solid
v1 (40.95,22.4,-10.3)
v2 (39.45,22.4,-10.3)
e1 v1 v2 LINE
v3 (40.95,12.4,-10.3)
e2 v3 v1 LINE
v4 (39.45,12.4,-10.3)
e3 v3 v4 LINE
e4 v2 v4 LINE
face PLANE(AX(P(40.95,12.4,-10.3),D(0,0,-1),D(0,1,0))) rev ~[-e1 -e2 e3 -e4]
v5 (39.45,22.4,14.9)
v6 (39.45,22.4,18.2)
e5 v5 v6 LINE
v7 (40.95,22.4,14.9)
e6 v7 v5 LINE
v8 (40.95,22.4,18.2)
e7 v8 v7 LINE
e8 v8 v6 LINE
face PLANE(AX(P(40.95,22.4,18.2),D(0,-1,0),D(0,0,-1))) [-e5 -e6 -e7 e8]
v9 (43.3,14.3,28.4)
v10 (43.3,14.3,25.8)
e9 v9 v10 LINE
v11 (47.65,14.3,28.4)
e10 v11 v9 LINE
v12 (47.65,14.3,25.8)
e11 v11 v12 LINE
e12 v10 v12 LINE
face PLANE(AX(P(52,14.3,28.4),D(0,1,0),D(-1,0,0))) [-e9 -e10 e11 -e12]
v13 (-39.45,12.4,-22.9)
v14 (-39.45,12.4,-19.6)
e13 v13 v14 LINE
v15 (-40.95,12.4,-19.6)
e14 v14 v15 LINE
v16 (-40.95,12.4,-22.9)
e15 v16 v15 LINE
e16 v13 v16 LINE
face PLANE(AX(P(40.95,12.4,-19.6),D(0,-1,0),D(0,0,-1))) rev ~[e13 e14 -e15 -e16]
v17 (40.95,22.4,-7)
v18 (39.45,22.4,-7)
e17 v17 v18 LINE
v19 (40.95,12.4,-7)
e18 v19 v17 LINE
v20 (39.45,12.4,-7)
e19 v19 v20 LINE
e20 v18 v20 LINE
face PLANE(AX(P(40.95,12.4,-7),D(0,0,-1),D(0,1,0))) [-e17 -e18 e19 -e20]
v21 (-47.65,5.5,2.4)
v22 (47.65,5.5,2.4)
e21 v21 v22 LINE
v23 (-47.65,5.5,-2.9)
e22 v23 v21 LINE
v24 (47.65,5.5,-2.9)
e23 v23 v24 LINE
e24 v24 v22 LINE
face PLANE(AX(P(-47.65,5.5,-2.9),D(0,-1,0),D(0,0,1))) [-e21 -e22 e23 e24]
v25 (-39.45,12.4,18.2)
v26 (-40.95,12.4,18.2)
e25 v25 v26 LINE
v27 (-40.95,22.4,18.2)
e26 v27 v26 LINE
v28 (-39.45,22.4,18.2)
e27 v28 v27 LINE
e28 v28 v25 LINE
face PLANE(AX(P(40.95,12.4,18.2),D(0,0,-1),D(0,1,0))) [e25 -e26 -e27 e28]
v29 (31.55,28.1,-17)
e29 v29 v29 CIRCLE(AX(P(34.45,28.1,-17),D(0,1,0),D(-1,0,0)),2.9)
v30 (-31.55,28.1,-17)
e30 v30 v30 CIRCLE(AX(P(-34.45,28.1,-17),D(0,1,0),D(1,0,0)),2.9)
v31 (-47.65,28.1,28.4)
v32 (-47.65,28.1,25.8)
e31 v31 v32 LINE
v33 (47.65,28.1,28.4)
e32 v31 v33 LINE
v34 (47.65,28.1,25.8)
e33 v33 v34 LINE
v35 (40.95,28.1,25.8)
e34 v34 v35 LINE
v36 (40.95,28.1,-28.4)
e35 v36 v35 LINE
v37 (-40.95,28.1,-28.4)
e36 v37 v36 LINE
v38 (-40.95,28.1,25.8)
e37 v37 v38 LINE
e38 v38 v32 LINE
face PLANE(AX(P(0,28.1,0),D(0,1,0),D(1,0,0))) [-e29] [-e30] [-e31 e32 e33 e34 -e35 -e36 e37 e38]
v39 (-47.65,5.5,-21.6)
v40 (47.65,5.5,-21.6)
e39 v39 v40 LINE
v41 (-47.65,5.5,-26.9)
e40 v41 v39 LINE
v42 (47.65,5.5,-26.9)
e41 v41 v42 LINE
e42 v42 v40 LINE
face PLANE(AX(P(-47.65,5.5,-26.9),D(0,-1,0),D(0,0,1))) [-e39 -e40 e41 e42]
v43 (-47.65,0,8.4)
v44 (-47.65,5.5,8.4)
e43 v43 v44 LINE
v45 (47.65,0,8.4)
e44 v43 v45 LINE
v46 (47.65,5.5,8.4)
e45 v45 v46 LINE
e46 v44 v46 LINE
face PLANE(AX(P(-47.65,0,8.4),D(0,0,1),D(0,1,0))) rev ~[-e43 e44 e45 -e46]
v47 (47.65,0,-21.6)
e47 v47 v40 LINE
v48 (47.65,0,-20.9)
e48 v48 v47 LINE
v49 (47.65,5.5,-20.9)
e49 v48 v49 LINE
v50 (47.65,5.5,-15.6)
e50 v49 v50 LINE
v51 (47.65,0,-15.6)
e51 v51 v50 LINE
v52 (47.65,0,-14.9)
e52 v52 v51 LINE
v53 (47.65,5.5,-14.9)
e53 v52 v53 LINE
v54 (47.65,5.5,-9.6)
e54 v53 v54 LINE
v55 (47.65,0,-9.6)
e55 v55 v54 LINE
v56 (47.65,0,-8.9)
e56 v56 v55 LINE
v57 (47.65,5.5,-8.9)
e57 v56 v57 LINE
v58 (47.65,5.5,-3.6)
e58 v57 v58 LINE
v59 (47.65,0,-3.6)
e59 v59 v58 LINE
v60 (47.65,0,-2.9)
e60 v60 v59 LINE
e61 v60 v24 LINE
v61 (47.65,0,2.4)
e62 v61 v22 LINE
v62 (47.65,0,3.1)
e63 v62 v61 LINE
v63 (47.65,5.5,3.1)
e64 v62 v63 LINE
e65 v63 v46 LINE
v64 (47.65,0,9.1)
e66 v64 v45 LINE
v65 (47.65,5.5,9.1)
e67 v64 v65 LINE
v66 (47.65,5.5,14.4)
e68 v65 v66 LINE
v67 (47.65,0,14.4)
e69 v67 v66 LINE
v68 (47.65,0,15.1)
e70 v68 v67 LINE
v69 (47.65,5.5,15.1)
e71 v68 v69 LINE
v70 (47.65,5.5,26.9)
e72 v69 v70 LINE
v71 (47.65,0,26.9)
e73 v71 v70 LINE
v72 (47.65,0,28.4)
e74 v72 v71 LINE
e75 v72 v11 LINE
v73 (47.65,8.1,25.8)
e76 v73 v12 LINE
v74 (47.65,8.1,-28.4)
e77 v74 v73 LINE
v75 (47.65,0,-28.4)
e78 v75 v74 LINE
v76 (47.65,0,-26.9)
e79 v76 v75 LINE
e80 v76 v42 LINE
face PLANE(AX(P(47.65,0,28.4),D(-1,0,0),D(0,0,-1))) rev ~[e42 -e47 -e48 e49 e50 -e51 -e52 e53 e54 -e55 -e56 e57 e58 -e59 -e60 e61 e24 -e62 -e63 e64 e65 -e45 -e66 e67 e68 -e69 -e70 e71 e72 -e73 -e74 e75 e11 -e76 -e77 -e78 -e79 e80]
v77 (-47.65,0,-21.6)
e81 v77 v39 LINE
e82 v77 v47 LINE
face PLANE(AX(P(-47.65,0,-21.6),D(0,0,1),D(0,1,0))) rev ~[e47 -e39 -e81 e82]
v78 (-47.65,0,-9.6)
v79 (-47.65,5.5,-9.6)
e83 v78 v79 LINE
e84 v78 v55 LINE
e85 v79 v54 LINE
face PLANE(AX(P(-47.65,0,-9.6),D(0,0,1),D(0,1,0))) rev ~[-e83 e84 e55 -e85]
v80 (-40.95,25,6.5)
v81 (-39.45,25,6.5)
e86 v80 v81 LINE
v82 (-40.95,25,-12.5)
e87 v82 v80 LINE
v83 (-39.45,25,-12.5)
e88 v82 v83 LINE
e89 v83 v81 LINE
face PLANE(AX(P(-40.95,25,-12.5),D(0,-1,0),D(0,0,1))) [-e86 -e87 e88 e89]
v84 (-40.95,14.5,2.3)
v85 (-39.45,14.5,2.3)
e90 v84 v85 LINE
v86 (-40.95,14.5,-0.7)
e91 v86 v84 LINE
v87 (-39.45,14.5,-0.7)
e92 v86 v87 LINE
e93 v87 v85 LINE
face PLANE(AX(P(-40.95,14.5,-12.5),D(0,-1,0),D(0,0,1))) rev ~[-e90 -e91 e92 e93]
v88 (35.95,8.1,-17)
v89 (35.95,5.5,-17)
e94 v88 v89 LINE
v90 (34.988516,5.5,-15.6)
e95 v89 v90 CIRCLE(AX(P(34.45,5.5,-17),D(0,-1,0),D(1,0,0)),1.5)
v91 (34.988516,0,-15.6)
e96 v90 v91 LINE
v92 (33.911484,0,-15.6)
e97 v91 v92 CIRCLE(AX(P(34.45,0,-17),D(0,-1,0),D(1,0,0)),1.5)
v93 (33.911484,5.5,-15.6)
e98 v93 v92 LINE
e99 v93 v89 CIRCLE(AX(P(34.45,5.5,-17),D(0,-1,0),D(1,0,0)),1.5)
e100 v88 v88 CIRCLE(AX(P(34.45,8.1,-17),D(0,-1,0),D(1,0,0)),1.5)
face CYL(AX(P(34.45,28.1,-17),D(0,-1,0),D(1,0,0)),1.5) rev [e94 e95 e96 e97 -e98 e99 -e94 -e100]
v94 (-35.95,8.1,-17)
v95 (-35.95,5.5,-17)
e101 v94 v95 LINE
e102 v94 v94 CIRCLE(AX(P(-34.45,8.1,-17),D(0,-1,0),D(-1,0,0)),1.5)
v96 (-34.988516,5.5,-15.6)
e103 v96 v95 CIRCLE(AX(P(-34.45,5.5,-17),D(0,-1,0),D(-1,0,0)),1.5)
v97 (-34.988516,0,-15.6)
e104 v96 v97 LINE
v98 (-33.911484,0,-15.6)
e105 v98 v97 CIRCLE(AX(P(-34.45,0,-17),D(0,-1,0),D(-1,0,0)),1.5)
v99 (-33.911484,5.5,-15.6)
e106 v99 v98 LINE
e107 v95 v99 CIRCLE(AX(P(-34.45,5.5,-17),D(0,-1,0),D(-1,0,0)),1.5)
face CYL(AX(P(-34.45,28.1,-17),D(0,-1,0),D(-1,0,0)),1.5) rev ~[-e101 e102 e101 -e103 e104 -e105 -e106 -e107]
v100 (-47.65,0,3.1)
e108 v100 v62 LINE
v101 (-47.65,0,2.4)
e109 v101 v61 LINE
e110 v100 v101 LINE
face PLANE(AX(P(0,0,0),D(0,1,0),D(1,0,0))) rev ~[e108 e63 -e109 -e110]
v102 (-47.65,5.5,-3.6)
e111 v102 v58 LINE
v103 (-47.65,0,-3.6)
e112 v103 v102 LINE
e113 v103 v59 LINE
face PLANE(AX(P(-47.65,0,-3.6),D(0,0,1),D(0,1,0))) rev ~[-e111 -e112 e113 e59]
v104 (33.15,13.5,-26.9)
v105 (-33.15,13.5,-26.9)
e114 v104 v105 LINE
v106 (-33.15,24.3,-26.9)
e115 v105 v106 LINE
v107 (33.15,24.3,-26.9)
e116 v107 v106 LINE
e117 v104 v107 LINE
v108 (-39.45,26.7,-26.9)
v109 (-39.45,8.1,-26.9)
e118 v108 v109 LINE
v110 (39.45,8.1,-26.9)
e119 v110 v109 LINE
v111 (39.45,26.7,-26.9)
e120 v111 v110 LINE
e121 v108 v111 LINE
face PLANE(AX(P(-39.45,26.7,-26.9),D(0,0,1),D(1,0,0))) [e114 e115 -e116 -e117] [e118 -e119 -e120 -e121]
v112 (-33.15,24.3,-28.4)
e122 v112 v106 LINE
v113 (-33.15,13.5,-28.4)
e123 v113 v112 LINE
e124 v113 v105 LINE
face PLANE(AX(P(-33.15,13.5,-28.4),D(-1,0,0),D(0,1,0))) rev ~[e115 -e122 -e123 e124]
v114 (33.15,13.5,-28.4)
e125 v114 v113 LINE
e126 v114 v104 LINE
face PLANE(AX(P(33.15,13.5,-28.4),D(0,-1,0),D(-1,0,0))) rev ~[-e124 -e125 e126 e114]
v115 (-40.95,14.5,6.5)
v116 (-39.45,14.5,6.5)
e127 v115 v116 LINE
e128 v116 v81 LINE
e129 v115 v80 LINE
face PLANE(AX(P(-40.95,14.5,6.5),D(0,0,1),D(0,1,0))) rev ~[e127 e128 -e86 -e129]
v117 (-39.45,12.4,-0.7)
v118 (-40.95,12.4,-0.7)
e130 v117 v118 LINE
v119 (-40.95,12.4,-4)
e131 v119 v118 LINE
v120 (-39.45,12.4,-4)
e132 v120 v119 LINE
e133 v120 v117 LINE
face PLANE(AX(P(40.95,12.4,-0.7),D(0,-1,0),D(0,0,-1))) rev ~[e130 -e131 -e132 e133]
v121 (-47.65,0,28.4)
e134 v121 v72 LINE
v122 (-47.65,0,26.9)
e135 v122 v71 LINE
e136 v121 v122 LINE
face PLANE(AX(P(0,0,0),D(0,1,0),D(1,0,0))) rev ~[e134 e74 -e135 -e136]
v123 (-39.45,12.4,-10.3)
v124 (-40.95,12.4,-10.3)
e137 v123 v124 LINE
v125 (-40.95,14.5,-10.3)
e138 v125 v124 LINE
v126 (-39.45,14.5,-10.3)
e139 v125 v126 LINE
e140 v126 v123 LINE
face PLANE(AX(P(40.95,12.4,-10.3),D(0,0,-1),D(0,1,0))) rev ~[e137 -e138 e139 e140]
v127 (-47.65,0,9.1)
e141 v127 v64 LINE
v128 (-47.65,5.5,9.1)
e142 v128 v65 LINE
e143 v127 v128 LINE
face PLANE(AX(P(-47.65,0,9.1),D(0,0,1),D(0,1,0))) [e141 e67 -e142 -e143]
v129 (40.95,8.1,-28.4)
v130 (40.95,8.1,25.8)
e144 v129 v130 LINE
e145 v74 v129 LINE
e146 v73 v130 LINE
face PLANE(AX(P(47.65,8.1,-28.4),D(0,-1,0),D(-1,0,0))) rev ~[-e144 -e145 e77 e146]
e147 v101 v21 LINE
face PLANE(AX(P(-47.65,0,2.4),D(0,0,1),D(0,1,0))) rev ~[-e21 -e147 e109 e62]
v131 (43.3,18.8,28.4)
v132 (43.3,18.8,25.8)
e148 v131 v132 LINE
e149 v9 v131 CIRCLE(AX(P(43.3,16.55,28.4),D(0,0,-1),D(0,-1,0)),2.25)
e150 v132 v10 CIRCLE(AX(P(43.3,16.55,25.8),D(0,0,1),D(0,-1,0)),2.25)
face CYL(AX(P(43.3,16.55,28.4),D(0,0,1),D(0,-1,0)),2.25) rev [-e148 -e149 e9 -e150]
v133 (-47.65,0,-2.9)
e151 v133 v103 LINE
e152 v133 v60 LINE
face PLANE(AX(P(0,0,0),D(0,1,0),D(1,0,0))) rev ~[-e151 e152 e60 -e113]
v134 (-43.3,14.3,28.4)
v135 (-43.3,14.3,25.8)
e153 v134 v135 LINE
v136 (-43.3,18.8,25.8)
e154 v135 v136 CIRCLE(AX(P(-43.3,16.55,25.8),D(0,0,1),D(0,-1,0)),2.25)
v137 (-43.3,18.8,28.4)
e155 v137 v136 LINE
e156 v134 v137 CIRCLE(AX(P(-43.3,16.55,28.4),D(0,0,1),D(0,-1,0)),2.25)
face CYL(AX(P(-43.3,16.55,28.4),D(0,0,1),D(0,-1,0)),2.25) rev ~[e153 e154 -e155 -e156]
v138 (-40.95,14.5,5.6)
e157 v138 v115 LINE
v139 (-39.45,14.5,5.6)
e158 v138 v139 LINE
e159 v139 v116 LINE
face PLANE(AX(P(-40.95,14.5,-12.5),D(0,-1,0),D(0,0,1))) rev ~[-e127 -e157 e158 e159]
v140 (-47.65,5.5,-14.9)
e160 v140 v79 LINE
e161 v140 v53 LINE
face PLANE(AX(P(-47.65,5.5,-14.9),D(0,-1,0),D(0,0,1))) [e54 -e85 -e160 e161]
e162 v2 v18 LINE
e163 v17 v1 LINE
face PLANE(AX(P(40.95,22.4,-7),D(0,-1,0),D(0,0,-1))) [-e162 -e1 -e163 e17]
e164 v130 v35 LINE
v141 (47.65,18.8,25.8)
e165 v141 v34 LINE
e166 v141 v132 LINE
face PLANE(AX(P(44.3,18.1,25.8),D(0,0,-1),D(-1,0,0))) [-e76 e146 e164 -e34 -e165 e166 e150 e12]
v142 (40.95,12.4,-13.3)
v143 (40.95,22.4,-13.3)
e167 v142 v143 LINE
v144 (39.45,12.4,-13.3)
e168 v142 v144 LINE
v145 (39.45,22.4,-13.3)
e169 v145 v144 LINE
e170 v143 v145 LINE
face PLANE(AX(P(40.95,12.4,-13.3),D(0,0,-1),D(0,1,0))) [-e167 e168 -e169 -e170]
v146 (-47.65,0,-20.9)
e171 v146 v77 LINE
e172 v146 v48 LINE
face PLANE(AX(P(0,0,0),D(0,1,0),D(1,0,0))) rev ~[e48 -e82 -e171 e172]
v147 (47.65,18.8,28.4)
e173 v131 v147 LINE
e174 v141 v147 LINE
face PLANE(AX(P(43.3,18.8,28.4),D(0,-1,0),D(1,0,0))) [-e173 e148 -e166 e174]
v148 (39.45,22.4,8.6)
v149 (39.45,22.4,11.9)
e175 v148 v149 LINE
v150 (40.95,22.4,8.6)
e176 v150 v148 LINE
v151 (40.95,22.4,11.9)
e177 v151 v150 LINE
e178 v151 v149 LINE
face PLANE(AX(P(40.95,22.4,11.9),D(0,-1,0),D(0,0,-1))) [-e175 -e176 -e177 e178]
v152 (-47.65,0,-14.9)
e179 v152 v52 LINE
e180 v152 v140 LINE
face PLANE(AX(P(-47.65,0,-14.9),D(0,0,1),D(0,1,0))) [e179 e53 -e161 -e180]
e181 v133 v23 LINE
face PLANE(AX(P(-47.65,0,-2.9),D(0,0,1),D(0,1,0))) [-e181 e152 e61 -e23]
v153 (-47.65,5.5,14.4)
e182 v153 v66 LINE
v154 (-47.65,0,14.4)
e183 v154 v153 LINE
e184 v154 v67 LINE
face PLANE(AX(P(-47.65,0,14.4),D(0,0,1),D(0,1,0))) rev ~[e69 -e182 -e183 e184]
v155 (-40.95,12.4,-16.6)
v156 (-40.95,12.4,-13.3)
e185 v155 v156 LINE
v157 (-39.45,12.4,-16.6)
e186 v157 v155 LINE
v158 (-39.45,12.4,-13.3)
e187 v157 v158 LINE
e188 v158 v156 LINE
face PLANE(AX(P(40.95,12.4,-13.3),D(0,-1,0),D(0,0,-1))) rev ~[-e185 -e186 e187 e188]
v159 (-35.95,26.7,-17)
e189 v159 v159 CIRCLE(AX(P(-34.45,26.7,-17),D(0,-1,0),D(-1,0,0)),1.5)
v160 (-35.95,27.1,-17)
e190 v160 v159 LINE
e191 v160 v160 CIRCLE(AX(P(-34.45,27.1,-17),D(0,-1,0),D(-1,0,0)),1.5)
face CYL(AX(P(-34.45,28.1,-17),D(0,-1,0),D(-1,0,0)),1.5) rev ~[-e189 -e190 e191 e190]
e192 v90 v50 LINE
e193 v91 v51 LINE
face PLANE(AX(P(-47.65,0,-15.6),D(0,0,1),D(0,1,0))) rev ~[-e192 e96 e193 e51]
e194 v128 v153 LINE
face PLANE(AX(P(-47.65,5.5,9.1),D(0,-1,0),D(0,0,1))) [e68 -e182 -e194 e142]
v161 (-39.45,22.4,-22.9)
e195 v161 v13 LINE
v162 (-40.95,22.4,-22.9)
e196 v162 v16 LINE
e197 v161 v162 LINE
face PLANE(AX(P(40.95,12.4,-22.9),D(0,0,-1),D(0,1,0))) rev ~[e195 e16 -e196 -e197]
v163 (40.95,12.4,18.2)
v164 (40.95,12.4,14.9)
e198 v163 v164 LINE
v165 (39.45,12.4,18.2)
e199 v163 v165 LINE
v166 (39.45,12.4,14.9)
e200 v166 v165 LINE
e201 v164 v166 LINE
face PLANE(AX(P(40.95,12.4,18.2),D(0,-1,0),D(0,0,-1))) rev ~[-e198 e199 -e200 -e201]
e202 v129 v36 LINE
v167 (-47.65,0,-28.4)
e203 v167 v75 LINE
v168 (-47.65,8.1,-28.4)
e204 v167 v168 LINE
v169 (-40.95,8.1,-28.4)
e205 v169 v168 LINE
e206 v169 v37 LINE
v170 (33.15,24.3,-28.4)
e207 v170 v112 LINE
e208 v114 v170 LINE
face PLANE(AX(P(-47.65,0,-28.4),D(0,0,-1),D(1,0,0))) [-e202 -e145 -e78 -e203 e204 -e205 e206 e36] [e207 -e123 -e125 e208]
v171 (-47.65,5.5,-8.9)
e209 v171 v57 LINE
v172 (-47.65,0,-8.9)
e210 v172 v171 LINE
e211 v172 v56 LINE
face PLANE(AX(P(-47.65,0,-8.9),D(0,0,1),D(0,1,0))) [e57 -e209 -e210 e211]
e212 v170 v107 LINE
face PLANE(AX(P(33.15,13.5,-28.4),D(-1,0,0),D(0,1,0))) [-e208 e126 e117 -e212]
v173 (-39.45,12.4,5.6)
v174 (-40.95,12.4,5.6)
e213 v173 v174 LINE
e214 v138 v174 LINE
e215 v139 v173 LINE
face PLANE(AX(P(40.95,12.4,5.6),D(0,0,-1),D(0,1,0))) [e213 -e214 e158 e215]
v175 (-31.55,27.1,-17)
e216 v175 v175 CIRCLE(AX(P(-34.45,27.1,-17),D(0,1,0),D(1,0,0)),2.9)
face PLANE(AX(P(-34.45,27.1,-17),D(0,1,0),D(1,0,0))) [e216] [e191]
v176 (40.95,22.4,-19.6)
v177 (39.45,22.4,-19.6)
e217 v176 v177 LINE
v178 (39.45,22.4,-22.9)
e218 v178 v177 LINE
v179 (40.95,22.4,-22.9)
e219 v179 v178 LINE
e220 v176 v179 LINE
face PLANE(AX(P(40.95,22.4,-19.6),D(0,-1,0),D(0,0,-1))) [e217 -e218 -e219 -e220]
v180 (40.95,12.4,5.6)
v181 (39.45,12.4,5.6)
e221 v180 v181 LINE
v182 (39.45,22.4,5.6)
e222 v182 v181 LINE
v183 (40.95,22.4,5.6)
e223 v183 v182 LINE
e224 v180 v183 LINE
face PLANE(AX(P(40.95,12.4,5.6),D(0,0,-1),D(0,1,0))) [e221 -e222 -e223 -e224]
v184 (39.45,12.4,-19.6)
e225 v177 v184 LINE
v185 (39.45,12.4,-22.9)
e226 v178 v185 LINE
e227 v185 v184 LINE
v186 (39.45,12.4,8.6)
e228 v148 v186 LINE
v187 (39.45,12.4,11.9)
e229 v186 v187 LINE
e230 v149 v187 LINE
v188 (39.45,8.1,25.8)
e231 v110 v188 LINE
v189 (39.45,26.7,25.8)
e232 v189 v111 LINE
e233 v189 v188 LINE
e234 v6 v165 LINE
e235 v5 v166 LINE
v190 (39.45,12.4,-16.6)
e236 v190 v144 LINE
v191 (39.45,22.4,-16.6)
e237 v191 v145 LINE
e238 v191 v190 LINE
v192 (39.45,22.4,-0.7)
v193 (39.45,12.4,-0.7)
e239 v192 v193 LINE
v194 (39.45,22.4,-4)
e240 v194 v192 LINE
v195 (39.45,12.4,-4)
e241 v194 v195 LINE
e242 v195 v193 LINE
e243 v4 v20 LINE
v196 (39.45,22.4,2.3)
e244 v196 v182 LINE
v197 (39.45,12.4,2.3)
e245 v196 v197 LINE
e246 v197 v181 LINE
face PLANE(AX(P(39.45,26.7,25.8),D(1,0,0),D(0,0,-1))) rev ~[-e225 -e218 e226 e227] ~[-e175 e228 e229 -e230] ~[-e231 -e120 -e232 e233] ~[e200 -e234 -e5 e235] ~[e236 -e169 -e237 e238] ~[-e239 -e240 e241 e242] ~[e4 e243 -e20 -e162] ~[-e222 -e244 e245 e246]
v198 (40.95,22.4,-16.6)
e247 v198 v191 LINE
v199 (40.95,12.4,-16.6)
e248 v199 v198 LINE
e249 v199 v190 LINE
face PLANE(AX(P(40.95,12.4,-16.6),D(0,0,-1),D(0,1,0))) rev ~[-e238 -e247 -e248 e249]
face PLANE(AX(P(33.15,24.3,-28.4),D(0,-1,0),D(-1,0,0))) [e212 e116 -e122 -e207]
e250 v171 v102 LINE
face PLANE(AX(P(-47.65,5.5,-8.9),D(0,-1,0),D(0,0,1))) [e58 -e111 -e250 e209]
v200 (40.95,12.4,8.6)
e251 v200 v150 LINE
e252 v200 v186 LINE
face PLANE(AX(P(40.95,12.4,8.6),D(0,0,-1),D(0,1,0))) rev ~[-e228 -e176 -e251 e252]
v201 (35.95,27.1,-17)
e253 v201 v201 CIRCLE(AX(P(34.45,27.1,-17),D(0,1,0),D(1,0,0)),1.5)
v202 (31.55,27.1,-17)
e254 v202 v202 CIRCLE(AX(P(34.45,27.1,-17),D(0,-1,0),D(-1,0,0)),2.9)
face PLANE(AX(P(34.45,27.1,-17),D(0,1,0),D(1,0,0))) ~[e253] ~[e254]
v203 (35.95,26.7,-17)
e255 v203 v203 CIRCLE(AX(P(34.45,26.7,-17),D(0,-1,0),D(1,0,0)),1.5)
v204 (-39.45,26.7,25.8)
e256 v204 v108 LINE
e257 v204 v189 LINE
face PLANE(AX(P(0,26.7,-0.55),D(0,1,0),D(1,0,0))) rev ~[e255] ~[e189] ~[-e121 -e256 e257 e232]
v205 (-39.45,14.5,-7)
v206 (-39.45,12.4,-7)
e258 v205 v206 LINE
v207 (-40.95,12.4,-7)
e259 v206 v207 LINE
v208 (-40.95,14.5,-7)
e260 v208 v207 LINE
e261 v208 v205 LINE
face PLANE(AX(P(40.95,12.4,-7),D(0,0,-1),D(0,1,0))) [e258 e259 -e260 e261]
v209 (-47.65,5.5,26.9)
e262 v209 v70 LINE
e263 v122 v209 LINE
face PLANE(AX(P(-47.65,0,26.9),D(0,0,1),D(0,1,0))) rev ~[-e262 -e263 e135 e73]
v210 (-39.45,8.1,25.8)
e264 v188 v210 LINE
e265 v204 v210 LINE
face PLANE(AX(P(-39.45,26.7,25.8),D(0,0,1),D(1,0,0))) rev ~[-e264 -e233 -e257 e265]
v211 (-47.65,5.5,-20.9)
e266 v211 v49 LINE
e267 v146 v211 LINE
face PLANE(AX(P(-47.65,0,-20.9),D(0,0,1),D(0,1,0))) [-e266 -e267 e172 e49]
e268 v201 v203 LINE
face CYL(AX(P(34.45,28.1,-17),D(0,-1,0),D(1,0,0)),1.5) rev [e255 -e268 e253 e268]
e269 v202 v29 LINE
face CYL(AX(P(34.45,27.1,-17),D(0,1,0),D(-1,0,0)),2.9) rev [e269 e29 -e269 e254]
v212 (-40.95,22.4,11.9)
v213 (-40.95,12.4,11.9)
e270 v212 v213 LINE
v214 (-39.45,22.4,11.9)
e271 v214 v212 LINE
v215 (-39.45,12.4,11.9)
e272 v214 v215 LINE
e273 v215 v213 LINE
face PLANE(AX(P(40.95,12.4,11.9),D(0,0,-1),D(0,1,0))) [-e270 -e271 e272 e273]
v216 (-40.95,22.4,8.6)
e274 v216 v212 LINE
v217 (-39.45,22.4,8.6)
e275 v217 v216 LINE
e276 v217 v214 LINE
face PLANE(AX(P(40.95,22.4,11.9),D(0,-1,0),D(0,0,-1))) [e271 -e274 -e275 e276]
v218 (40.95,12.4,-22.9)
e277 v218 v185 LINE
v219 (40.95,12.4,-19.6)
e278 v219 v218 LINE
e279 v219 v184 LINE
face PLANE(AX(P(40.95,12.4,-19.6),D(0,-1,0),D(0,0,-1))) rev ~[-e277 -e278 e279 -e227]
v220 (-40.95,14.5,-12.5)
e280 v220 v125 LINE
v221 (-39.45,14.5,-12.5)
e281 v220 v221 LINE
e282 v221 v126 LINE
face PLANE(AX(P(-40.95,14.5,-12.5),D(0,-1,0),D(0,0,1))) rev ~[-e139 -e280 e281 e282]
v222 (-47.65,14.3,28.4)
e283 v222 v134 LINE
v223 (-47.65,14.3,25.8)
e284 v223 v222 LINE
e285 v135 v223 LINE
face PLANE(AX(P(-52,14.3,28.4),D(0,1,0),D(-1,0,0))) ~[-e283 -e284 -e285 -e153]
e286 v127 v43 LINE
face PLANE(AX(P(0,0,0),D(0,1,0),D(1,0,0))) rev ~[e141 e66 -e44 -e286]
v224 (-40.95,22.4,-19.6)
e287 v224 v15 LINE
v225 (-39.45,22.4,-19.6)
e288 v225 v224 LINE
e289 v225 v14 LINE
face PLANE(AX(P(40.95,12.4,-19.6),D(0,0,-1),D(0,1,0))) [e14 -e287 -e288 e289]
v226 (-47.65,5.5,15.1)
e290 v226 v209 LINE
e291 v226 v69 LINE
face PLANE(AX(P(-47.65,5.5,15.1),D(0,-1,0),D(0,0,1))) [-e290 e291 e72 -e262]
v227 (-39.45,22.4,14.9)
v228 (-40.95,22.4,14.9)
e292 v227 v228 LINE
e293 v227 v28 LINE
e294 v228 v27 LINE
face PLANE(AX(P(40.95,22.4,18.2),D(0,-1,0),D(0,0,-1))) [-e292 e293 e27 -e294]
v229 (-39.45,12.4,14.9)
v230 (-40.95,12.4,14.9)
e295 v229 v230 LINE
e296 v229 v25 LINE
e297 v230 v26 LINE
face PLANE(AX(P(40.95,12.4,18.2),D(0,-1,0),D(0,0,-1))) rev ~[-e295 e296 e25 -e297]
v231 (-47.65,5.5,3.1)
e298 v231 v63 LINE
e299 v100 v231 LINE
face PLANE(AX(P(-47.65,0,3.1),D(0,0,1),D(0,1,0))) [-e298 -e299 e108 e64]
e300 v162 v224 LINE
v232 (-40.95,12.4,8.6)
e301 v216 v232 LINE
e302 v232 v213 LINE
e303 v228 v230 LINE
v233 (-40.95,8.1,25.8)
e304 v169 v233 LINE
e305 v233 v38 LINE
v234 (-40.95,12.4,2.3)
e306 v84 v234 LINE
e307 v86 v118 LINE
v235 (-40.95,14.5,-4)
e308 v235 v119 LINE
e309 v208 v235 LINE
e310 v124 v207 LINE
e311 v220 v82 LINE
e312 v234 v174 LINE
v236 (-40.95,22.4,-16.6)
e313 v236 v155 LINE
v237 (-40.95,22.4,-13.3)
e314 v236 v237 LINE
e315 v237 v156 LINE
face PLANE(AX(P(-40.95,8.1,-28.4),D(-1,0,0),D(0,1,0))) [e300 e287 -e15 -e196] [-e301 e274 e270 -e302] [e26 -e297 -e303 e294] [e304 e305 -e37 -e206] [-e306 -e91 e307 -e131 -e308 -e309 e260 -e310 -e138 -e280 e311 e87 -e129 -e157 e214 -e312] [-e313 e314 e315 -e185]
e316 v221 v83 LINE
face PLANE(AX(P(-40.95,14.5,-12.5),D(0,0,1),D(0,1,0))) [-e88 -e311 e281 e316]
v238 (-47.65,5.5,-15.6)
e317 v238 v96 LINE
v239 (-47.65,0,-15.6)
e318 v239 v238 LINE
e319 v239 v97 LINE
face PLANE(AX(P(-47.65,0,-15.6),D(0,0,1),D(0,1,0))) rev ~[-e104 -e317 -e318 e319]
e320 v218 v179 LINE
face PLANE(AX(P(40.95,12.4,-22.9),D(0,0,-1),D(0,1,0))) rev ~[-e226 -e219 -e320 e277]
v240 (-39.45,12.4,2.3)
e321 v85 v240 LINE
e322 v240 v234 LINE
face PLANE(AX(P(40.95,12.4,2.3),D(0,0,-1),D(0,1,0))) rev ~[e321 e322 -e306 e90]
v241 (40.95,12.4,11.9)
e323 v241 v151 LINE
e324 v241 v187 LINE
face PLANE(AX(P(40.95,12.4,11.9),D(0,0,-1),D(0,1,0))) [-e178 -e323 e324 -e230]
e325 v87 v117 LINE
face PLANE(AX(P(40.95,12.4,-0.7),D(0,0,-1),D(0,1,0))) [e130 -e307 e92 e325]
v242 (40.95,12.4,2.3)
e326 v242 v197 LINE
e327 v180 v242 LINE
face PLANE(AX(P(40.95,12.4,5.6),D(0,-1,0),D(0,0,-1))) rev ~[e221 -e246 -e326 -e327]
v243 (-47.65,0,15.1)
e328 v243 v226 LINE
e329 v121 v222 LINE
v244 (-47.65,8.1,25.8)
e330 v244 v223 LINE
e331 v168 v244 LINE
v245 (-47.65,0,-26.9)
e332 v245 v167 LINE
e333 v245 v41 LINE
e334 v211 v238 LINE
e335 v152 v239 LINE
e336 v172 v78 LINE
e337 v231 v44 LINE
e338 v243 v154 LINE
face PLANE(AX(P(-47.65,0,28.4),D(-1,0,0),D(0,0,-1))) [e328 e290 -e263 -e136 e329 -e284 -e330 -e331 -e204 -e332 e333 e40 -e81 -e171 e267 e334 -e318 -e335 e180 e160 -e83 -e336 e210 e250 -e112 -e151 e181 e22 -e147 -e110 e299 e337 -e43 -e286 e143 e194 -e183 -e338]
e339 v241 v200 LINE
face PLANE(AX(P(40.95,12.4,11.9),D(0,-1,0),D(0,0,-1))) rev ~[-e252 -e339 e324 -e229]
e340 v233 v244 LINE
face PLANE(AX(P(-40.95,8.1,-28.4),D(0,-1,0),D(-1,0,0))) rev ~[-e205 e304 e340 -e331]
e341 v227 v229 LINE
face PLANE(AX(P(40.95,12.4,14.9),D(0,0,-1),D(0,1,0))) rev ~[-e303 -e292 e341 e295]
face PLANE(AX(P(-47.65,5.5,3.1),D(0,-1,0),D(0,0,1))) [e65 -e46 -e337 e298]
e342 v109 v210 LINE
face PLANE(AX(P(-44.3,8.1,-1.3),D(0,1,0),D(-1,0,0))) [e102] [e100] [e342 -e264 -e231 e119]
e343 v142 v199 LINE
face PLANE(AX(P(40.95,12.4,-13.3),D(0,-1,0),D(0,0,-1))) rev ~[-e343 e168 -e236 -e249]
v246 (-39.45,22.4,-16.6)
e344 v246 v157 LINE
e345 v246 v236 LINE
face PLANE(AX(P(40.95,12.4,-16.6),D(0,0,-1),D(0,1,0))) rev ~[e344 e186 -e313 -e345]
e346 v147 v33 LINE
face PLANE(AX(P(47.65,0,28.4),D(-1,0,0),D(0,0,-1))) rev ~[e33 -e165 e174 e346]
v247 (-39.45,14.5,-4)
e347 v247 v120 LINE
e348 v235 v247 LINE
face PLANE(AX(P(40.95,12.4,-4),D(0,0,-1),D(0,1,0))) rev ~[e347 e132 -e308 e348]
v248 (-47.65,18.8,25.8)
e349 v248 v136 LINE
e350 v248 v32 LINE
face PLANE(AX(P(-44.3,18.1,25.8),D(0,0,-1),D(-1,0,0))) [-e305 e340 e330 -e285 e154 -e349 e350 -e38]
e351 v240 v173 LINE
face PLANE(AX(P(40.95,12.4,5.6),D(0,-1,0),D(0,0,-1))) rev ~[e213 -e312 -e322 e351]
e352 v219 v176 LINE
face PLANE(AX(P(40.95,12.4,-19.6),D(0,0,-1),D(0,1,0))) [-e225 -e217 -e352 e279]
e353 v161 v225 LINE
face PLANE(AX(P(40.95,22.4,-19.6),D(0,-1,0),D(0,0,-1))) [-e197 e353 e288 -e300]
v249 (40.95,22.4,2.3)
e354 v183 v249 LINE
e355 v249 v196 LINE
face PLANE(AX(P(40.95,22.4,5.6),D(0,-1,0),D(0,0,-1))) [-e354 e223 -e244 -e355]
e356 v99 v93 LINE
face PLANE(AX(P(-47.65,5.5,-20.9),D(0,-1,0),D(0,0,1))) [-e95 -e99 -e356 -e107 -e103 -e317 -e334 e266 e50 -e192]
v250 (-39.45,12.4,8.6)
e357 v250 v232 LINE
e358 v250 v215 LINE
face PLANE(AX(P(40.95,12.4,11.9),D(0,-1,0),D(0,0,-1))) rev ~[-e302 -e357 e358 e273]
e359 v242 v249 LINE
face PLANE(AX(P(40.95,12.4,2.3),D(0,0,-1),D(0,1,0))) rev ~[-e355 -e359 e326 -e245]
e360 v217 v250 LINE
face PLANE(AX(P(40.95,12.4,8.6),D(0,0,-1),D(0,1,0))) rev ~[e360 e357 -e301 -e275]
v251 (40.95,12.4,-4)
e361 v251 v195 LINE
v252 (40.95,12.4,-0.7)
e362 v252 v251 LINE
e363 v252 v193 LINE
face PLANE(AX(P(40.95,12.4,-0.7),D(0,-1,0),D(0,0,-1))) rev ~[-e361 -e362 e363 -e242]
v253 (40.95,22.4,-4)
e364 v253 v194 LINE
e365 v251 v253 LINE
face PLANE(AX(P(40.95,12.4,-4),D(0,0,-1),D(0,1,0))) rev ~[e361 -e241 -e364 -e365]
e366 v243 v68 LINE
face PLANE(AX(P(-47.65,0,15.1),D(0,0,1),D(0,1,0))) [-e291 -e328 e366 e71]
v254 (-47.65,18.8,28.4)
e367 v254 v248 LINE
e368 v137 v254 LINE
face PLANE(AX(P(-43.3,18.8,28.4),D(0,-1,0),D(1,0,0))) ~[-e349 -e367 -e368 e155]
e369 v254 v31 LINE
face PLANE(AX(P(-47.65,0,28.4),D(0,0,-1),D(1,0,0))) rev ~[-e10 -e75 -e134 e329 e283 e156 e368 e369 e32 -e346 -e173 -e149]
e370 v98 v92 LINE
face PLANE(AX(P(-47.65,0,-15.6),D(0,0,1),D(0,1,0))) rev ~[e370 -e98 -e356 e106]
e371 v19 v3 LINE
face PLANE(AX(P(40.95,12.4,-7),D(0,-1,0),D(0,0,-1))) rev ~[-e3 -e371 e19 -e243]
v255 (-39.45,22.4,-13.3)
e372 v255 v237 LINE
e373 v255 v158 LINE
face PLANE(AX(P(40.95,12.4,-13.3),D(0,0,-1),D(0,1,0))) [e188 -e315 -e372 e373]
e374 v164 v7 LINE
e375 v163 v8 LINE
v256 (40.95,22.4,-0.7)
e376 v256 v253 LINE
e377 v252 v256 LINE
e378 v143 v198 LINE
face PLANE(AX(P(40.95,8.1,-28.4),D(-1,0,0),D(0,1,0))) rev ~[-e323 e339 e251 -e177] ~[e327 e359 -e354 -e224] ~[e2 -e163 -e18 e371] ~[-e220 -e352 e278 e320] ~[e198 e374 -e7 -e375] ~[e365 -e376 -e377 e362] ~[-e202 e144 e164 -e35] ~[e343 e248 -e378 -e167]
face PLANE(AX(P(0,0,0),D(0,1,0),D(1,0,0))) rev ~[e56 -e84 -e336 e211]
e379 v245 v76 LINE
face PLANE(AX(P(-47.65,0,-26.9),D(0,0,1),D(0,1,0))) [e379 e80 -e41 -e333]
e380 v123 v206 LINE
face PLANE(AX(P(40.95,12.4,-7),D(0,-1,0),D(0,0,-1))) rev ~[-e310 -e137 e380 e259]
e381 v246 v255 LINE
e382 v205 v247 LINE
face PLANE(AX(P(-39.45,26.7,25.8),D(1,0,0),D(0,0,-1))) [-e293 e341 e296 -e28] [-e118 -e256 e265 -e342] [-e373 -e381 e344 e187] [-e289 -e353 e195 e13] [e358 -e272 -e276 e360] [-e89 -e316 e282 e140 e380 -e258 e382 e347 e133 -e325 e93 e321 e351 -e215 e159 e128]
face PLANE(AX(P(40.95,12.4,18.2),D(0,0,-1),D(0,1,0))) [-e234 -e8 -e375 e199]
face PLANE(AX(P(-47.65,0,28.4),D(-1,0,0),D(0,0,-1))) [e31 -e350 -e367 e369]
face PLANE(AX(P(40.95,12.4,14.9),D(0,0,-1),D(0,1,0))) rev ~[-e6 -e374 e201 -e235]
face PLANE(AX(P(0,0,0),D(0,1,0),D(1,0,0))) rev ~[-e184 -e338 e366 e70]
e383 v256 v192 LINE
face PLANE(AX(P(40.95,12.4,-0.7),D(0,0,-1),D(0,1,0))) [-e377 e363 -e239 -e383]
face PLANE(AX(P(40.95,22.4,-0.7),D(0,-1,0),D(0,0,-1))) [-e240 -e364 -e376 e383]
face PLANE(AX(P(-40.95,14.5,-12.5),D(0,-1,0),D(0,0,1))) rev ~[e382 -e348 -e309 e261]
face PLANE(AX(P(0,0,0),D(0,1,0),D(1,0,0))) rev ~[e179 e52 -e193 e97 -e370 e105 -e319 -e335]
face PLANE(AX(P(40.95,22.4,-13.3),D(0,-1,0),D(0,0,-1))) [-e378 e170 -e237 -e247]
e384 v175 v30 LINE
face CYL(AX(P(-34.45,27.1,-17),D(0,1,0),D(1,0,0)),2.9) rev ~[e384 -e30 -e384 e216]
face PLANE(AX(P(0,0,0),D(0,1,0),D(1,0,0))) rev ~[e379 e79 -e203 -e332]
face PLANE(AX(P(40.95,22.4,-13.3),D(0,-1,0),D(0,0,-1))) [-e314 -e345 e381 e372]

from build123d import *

# Parameters (mm, degrees)
SKETCH1_W                               = 95.3
SKETCH1_H                               = 56.8
BOSS_EXTRUDE1_DEPTH                     = 28.1
SKETCH2_W                               = 5.3
SKETCH2_H                               = 5.5
SKETCH2_W_2                             = 11.8
CUT_EXTRUDE2_DEPTH                      = 104.33566664
SKETCH3_W                               = 6.7
SKETCH3_H                               = 20
CUT_EXTRUDE4_DEPTH                      = 54.2
CUT_EXTRUDE5_DEPTH                      = 80.286647678
SKETCH5_W                               = 3.3
SKETCH5_H                               = 10
CUT_EXTRUDE6_DEPTH                      = 98.191203306
CUT_EXTRUDE8_REACH                      = 65.583
CUT_EXTRUDE8_START                      = -1.4
SKETCH6_W                               = 78.9
SKETCH6_H                               = 52.7
CUT_EXTRUDE9_REACH                      = 99.191
SKETCH7_W                               = 19
SKETCH7_H                               = 10.5
CUT_EXTRUDE10_REACH                     = 81.287
SKETCH8_W                               = 66.3
SKETCH8_H                               = 10.8
CBORE_FOR_M5_HEX_HEAD_BOLT1_D           = 3
CBORE_FOR_M5_HEX_HEAD_BOLT1_CBORE_D     = 5.8
CBORE_FOR_M5_HEX_HEAD_BOLT1_CBORE_DEPTH = 1


with BuildPart() as part:
    # Sketch1 → Boss-Extrude1 (new body)
    with BuildSketch(Plane(origin=(0, 0, 0), x_dir=(1, 0, 0), z_dir=(0, 1, 0))):
        Rectangle(SKETCH1_W, SKETCH1_H)
    extrude(amount=BOSS_EXTRUDE1_DEPTH)

    # Sketch2 → Cut-Extrude2 (cut, through all)
    with BuildSketch(Plane.ZY.offset(47.65)):
        with Locations((-24.25, 2.75)):
            Rectangle(SKETCH2_W, SKETCH2_H)
        with Locations((-18.25, 2.75)):
            Rectangle(SKETCH2_W, SKETCH2_H)
        with Locations((-12.25, 2.75)):
            Rectangle(SKETCH2_W, SKETCH2_H)
        with Locations((-6.25, 2.75)):
            Rectangle(SKETCH2_W, SKETCH2_H)
        with Locations((-0.25, 2.75)):
            Rectangle(SKETCH2_W, SKETCH2_H)
        with Locations((5.75, 2.75)):
            Rectangle(SKETCH2_W, SKETCH2_H)
        with Locations((11.75, 2.75)):
            Rectangle(SKETCH2_W, SKETCH2_H)
        with Locations((21, 2.75)):
            Rectangle(SKETCH2_W_2, SKETCH2_H)
    extrude(amount=-CUT_EXTRUDE2_DEPTH, mode=Mode.SUBTRACT)

    # Sketch3 → Cut-Extrude4 (cut)
    with BuildSketch(Plane(origin=(0, 0, -28.4), x_dir=(-1, 0, 0), z_dir=(0, 0, -1))):
        with Locations((-44.3, 18.1)):
            Rectangle(SKETCH3_W, SKETCH3_H)
        with Locations((44.3, 18.1)):
            Rectangle(SKETCH3_W, SKETCH3_H)
    extrude(amount=-CUT_EXTRUDE4_DEPTH, mode=Mode.SUBTRACT)

    # Sketch4 → Cut-Extrude5 (cut, through all)
    with BuildSketch(Plane.XY.offset(28.4)):
        with BuildLine():
            Line((43.3, 18.8), (52, 18.8))
            ThreePointArc((52, 18.8), (54.25, 16.55), (52, 14.3))
            Line((52, 14.3), (43.3, 14.3))
            ThreePointArc((43.3, 14.3), (41.05, 16.55), (43.3, 18.8))
        make_face()
    cut_extrude5 = extrude(amount=-CUT_EXTRUDE5_DEPTH, mode=Mode.SUBTRACT)

    # Mirror1: Cut-Extrude5 across plane
    add(cut_extrude5.mirror(Plane(origin=(0, 0, 0), x_dir=(0, 0, 1), z_dir=(1, 0, 0))), mode=Mode.SUBTRACT)

    # Sketch5 → Cut-Extrude6 (cut, through all)
    with BuildSketch(Plane(origin=(40.95, 0, 0), x_dir=(0, 0, -1), z_dir=(1, 0, 0))):
        with Locations((-16.55, 17.4)):
            Rectangle(SKETCH5_W, SKETCH5_H)
        with Locations((-10.25, 17.4)):
            Rectangle(SKETCH5_W, SKETCH5_H)
        with Locations((-3.95, 17.4)):
            Rectangle(SKETCH5_W, SKETCH5_H)
        with Locations((2.35, 17.4)):
            Rectangle(SKETCH5_W, SKETCH5_H)
        with Locations((8.65, 17.4)):
            Rectangle(SKETCH5_W, SKETCH5_H)
        with Locations((14.95, 17.4)):
            Rectangle(SKETCH5_W, SKETCH5_H)
        with Locations((21.25, 17.4)):
            Rectangle(SKETCH5_W, SKETCH5_H)
    extrude(amount=-CUT_EXTRUDE6_DEPTH, mode=Mode.SUBTRACT)

    # Cut-Extrude8: up to this face of the body (flat: up to its plane)
    cut_extrude8_end = Plane(part.part.faces().sort_by_distance((-44.3, 8.1, -1.3))[0])
    # Sketch6 → Cut-Extrude8 (cut, up to the picked face)
    with BuildSketch(Plane(origin=(0, 28.1, 0), x_dir=(1, 0, 0), z_dir=(0, 1, 0)).offset(CUT_EXTRUDE8_START), mode=Mode.PRIVATE) as cut_extrude8_sk1:
        with Locations((0, 0.55)):
            Rectangle(SKETCH6_W, SKETCH6_H)
    cut_extrude8_tool1 = split(extrude(cut_extrude8_sk1.sketch, amount=-CUT_EXTRUDE8_REACH, mode=Mode.PRIVATE), bisect_by=cut_extrude8_end, keep=Keep.BOTH, mode=Mode.PRIVATE)
    add(cut_extrude8_tool1.solids().sort_by(Axis((0, 26.7, -0.55), (0, -1, 0)))[0], mode=Mode.SUBTRACT)

    # Sketch7 → Cut-Extrude9 (cut, up to next)
    with BuildSketch(Plane.ZY.offset(40.95), mode=Mode.PRIVATE) as cut_extrude9_sk1:
        with Locations((-3, 19.75)):
            Rectangle(SKETCH7_W, SKETCH7_H)
    cut_extrude9_tool1 = extrude(cut_extrude9_sk1.sketch, amount=-CUT_EXTRUDE9_REACH, mode=Mode.PRIVATE) & part.part
    add(cut_extrude9_tool1.solids().sort_by_distance((-40.95, 19.75, -3))[0], mode=Mode.SUBTRACT)

    # Sketch8 → Cut-Extrude10 (cut, up to next)
    with BuildSketch(Plane(origin=(0, 0, -28.4), x_dir=(-1, 0, 0), z_dir=(0, 0, -1)), mode=Mode.PRIVATE) as cut_extrude10_sk1:
        with Locations((0, 18.9)):
            Rectangle(SKETCH8_W, SKETCH8_H)
    cut_extrude10_tool1 = extrude(cut_extrude10_sk1.sketch, amount=-CUT_EXTRUDE10_REACH, mode=Mode.PRIVATE) & part.part
    add(cut_extrude10_tool1.solids().sort_by_distance((0, 18.9, -28.4))[0], mode=Mode.SUBTRACT)

    # CBORE for M5 Hex Head Bolt1 (through all)
    with Locations(Plane(origin=(0, 28.1, 0), x_dir=(1, 0, 0), z_dir=(0, 1, 0))):
        with Locations((-34.45, 17)):
            cbore_for_m5_hex_head_bolt1 = CounterBoreHole(CBORE_FOR_M5_HEX_HEAD_BOLT1_D / 2, CBORE_FOR_M5_HEX_HEAD_BOLT1_CBORE_D / 2, CBORE_FOR_M5_HEX_HEAD_BOLT1_CBORE_DEPTH)

    # Mirror2: CBORE for M5 Hex Head Bolt1 across plane
    add(cbore_for_m5_hex_head_bolt1.mirror(Plane(origin=(0, 0, 0), x_dir=(0, 0, 1), z_dir=(1, 0, 0))), mode=Mode.SUBTRACT)


solid = part.part
